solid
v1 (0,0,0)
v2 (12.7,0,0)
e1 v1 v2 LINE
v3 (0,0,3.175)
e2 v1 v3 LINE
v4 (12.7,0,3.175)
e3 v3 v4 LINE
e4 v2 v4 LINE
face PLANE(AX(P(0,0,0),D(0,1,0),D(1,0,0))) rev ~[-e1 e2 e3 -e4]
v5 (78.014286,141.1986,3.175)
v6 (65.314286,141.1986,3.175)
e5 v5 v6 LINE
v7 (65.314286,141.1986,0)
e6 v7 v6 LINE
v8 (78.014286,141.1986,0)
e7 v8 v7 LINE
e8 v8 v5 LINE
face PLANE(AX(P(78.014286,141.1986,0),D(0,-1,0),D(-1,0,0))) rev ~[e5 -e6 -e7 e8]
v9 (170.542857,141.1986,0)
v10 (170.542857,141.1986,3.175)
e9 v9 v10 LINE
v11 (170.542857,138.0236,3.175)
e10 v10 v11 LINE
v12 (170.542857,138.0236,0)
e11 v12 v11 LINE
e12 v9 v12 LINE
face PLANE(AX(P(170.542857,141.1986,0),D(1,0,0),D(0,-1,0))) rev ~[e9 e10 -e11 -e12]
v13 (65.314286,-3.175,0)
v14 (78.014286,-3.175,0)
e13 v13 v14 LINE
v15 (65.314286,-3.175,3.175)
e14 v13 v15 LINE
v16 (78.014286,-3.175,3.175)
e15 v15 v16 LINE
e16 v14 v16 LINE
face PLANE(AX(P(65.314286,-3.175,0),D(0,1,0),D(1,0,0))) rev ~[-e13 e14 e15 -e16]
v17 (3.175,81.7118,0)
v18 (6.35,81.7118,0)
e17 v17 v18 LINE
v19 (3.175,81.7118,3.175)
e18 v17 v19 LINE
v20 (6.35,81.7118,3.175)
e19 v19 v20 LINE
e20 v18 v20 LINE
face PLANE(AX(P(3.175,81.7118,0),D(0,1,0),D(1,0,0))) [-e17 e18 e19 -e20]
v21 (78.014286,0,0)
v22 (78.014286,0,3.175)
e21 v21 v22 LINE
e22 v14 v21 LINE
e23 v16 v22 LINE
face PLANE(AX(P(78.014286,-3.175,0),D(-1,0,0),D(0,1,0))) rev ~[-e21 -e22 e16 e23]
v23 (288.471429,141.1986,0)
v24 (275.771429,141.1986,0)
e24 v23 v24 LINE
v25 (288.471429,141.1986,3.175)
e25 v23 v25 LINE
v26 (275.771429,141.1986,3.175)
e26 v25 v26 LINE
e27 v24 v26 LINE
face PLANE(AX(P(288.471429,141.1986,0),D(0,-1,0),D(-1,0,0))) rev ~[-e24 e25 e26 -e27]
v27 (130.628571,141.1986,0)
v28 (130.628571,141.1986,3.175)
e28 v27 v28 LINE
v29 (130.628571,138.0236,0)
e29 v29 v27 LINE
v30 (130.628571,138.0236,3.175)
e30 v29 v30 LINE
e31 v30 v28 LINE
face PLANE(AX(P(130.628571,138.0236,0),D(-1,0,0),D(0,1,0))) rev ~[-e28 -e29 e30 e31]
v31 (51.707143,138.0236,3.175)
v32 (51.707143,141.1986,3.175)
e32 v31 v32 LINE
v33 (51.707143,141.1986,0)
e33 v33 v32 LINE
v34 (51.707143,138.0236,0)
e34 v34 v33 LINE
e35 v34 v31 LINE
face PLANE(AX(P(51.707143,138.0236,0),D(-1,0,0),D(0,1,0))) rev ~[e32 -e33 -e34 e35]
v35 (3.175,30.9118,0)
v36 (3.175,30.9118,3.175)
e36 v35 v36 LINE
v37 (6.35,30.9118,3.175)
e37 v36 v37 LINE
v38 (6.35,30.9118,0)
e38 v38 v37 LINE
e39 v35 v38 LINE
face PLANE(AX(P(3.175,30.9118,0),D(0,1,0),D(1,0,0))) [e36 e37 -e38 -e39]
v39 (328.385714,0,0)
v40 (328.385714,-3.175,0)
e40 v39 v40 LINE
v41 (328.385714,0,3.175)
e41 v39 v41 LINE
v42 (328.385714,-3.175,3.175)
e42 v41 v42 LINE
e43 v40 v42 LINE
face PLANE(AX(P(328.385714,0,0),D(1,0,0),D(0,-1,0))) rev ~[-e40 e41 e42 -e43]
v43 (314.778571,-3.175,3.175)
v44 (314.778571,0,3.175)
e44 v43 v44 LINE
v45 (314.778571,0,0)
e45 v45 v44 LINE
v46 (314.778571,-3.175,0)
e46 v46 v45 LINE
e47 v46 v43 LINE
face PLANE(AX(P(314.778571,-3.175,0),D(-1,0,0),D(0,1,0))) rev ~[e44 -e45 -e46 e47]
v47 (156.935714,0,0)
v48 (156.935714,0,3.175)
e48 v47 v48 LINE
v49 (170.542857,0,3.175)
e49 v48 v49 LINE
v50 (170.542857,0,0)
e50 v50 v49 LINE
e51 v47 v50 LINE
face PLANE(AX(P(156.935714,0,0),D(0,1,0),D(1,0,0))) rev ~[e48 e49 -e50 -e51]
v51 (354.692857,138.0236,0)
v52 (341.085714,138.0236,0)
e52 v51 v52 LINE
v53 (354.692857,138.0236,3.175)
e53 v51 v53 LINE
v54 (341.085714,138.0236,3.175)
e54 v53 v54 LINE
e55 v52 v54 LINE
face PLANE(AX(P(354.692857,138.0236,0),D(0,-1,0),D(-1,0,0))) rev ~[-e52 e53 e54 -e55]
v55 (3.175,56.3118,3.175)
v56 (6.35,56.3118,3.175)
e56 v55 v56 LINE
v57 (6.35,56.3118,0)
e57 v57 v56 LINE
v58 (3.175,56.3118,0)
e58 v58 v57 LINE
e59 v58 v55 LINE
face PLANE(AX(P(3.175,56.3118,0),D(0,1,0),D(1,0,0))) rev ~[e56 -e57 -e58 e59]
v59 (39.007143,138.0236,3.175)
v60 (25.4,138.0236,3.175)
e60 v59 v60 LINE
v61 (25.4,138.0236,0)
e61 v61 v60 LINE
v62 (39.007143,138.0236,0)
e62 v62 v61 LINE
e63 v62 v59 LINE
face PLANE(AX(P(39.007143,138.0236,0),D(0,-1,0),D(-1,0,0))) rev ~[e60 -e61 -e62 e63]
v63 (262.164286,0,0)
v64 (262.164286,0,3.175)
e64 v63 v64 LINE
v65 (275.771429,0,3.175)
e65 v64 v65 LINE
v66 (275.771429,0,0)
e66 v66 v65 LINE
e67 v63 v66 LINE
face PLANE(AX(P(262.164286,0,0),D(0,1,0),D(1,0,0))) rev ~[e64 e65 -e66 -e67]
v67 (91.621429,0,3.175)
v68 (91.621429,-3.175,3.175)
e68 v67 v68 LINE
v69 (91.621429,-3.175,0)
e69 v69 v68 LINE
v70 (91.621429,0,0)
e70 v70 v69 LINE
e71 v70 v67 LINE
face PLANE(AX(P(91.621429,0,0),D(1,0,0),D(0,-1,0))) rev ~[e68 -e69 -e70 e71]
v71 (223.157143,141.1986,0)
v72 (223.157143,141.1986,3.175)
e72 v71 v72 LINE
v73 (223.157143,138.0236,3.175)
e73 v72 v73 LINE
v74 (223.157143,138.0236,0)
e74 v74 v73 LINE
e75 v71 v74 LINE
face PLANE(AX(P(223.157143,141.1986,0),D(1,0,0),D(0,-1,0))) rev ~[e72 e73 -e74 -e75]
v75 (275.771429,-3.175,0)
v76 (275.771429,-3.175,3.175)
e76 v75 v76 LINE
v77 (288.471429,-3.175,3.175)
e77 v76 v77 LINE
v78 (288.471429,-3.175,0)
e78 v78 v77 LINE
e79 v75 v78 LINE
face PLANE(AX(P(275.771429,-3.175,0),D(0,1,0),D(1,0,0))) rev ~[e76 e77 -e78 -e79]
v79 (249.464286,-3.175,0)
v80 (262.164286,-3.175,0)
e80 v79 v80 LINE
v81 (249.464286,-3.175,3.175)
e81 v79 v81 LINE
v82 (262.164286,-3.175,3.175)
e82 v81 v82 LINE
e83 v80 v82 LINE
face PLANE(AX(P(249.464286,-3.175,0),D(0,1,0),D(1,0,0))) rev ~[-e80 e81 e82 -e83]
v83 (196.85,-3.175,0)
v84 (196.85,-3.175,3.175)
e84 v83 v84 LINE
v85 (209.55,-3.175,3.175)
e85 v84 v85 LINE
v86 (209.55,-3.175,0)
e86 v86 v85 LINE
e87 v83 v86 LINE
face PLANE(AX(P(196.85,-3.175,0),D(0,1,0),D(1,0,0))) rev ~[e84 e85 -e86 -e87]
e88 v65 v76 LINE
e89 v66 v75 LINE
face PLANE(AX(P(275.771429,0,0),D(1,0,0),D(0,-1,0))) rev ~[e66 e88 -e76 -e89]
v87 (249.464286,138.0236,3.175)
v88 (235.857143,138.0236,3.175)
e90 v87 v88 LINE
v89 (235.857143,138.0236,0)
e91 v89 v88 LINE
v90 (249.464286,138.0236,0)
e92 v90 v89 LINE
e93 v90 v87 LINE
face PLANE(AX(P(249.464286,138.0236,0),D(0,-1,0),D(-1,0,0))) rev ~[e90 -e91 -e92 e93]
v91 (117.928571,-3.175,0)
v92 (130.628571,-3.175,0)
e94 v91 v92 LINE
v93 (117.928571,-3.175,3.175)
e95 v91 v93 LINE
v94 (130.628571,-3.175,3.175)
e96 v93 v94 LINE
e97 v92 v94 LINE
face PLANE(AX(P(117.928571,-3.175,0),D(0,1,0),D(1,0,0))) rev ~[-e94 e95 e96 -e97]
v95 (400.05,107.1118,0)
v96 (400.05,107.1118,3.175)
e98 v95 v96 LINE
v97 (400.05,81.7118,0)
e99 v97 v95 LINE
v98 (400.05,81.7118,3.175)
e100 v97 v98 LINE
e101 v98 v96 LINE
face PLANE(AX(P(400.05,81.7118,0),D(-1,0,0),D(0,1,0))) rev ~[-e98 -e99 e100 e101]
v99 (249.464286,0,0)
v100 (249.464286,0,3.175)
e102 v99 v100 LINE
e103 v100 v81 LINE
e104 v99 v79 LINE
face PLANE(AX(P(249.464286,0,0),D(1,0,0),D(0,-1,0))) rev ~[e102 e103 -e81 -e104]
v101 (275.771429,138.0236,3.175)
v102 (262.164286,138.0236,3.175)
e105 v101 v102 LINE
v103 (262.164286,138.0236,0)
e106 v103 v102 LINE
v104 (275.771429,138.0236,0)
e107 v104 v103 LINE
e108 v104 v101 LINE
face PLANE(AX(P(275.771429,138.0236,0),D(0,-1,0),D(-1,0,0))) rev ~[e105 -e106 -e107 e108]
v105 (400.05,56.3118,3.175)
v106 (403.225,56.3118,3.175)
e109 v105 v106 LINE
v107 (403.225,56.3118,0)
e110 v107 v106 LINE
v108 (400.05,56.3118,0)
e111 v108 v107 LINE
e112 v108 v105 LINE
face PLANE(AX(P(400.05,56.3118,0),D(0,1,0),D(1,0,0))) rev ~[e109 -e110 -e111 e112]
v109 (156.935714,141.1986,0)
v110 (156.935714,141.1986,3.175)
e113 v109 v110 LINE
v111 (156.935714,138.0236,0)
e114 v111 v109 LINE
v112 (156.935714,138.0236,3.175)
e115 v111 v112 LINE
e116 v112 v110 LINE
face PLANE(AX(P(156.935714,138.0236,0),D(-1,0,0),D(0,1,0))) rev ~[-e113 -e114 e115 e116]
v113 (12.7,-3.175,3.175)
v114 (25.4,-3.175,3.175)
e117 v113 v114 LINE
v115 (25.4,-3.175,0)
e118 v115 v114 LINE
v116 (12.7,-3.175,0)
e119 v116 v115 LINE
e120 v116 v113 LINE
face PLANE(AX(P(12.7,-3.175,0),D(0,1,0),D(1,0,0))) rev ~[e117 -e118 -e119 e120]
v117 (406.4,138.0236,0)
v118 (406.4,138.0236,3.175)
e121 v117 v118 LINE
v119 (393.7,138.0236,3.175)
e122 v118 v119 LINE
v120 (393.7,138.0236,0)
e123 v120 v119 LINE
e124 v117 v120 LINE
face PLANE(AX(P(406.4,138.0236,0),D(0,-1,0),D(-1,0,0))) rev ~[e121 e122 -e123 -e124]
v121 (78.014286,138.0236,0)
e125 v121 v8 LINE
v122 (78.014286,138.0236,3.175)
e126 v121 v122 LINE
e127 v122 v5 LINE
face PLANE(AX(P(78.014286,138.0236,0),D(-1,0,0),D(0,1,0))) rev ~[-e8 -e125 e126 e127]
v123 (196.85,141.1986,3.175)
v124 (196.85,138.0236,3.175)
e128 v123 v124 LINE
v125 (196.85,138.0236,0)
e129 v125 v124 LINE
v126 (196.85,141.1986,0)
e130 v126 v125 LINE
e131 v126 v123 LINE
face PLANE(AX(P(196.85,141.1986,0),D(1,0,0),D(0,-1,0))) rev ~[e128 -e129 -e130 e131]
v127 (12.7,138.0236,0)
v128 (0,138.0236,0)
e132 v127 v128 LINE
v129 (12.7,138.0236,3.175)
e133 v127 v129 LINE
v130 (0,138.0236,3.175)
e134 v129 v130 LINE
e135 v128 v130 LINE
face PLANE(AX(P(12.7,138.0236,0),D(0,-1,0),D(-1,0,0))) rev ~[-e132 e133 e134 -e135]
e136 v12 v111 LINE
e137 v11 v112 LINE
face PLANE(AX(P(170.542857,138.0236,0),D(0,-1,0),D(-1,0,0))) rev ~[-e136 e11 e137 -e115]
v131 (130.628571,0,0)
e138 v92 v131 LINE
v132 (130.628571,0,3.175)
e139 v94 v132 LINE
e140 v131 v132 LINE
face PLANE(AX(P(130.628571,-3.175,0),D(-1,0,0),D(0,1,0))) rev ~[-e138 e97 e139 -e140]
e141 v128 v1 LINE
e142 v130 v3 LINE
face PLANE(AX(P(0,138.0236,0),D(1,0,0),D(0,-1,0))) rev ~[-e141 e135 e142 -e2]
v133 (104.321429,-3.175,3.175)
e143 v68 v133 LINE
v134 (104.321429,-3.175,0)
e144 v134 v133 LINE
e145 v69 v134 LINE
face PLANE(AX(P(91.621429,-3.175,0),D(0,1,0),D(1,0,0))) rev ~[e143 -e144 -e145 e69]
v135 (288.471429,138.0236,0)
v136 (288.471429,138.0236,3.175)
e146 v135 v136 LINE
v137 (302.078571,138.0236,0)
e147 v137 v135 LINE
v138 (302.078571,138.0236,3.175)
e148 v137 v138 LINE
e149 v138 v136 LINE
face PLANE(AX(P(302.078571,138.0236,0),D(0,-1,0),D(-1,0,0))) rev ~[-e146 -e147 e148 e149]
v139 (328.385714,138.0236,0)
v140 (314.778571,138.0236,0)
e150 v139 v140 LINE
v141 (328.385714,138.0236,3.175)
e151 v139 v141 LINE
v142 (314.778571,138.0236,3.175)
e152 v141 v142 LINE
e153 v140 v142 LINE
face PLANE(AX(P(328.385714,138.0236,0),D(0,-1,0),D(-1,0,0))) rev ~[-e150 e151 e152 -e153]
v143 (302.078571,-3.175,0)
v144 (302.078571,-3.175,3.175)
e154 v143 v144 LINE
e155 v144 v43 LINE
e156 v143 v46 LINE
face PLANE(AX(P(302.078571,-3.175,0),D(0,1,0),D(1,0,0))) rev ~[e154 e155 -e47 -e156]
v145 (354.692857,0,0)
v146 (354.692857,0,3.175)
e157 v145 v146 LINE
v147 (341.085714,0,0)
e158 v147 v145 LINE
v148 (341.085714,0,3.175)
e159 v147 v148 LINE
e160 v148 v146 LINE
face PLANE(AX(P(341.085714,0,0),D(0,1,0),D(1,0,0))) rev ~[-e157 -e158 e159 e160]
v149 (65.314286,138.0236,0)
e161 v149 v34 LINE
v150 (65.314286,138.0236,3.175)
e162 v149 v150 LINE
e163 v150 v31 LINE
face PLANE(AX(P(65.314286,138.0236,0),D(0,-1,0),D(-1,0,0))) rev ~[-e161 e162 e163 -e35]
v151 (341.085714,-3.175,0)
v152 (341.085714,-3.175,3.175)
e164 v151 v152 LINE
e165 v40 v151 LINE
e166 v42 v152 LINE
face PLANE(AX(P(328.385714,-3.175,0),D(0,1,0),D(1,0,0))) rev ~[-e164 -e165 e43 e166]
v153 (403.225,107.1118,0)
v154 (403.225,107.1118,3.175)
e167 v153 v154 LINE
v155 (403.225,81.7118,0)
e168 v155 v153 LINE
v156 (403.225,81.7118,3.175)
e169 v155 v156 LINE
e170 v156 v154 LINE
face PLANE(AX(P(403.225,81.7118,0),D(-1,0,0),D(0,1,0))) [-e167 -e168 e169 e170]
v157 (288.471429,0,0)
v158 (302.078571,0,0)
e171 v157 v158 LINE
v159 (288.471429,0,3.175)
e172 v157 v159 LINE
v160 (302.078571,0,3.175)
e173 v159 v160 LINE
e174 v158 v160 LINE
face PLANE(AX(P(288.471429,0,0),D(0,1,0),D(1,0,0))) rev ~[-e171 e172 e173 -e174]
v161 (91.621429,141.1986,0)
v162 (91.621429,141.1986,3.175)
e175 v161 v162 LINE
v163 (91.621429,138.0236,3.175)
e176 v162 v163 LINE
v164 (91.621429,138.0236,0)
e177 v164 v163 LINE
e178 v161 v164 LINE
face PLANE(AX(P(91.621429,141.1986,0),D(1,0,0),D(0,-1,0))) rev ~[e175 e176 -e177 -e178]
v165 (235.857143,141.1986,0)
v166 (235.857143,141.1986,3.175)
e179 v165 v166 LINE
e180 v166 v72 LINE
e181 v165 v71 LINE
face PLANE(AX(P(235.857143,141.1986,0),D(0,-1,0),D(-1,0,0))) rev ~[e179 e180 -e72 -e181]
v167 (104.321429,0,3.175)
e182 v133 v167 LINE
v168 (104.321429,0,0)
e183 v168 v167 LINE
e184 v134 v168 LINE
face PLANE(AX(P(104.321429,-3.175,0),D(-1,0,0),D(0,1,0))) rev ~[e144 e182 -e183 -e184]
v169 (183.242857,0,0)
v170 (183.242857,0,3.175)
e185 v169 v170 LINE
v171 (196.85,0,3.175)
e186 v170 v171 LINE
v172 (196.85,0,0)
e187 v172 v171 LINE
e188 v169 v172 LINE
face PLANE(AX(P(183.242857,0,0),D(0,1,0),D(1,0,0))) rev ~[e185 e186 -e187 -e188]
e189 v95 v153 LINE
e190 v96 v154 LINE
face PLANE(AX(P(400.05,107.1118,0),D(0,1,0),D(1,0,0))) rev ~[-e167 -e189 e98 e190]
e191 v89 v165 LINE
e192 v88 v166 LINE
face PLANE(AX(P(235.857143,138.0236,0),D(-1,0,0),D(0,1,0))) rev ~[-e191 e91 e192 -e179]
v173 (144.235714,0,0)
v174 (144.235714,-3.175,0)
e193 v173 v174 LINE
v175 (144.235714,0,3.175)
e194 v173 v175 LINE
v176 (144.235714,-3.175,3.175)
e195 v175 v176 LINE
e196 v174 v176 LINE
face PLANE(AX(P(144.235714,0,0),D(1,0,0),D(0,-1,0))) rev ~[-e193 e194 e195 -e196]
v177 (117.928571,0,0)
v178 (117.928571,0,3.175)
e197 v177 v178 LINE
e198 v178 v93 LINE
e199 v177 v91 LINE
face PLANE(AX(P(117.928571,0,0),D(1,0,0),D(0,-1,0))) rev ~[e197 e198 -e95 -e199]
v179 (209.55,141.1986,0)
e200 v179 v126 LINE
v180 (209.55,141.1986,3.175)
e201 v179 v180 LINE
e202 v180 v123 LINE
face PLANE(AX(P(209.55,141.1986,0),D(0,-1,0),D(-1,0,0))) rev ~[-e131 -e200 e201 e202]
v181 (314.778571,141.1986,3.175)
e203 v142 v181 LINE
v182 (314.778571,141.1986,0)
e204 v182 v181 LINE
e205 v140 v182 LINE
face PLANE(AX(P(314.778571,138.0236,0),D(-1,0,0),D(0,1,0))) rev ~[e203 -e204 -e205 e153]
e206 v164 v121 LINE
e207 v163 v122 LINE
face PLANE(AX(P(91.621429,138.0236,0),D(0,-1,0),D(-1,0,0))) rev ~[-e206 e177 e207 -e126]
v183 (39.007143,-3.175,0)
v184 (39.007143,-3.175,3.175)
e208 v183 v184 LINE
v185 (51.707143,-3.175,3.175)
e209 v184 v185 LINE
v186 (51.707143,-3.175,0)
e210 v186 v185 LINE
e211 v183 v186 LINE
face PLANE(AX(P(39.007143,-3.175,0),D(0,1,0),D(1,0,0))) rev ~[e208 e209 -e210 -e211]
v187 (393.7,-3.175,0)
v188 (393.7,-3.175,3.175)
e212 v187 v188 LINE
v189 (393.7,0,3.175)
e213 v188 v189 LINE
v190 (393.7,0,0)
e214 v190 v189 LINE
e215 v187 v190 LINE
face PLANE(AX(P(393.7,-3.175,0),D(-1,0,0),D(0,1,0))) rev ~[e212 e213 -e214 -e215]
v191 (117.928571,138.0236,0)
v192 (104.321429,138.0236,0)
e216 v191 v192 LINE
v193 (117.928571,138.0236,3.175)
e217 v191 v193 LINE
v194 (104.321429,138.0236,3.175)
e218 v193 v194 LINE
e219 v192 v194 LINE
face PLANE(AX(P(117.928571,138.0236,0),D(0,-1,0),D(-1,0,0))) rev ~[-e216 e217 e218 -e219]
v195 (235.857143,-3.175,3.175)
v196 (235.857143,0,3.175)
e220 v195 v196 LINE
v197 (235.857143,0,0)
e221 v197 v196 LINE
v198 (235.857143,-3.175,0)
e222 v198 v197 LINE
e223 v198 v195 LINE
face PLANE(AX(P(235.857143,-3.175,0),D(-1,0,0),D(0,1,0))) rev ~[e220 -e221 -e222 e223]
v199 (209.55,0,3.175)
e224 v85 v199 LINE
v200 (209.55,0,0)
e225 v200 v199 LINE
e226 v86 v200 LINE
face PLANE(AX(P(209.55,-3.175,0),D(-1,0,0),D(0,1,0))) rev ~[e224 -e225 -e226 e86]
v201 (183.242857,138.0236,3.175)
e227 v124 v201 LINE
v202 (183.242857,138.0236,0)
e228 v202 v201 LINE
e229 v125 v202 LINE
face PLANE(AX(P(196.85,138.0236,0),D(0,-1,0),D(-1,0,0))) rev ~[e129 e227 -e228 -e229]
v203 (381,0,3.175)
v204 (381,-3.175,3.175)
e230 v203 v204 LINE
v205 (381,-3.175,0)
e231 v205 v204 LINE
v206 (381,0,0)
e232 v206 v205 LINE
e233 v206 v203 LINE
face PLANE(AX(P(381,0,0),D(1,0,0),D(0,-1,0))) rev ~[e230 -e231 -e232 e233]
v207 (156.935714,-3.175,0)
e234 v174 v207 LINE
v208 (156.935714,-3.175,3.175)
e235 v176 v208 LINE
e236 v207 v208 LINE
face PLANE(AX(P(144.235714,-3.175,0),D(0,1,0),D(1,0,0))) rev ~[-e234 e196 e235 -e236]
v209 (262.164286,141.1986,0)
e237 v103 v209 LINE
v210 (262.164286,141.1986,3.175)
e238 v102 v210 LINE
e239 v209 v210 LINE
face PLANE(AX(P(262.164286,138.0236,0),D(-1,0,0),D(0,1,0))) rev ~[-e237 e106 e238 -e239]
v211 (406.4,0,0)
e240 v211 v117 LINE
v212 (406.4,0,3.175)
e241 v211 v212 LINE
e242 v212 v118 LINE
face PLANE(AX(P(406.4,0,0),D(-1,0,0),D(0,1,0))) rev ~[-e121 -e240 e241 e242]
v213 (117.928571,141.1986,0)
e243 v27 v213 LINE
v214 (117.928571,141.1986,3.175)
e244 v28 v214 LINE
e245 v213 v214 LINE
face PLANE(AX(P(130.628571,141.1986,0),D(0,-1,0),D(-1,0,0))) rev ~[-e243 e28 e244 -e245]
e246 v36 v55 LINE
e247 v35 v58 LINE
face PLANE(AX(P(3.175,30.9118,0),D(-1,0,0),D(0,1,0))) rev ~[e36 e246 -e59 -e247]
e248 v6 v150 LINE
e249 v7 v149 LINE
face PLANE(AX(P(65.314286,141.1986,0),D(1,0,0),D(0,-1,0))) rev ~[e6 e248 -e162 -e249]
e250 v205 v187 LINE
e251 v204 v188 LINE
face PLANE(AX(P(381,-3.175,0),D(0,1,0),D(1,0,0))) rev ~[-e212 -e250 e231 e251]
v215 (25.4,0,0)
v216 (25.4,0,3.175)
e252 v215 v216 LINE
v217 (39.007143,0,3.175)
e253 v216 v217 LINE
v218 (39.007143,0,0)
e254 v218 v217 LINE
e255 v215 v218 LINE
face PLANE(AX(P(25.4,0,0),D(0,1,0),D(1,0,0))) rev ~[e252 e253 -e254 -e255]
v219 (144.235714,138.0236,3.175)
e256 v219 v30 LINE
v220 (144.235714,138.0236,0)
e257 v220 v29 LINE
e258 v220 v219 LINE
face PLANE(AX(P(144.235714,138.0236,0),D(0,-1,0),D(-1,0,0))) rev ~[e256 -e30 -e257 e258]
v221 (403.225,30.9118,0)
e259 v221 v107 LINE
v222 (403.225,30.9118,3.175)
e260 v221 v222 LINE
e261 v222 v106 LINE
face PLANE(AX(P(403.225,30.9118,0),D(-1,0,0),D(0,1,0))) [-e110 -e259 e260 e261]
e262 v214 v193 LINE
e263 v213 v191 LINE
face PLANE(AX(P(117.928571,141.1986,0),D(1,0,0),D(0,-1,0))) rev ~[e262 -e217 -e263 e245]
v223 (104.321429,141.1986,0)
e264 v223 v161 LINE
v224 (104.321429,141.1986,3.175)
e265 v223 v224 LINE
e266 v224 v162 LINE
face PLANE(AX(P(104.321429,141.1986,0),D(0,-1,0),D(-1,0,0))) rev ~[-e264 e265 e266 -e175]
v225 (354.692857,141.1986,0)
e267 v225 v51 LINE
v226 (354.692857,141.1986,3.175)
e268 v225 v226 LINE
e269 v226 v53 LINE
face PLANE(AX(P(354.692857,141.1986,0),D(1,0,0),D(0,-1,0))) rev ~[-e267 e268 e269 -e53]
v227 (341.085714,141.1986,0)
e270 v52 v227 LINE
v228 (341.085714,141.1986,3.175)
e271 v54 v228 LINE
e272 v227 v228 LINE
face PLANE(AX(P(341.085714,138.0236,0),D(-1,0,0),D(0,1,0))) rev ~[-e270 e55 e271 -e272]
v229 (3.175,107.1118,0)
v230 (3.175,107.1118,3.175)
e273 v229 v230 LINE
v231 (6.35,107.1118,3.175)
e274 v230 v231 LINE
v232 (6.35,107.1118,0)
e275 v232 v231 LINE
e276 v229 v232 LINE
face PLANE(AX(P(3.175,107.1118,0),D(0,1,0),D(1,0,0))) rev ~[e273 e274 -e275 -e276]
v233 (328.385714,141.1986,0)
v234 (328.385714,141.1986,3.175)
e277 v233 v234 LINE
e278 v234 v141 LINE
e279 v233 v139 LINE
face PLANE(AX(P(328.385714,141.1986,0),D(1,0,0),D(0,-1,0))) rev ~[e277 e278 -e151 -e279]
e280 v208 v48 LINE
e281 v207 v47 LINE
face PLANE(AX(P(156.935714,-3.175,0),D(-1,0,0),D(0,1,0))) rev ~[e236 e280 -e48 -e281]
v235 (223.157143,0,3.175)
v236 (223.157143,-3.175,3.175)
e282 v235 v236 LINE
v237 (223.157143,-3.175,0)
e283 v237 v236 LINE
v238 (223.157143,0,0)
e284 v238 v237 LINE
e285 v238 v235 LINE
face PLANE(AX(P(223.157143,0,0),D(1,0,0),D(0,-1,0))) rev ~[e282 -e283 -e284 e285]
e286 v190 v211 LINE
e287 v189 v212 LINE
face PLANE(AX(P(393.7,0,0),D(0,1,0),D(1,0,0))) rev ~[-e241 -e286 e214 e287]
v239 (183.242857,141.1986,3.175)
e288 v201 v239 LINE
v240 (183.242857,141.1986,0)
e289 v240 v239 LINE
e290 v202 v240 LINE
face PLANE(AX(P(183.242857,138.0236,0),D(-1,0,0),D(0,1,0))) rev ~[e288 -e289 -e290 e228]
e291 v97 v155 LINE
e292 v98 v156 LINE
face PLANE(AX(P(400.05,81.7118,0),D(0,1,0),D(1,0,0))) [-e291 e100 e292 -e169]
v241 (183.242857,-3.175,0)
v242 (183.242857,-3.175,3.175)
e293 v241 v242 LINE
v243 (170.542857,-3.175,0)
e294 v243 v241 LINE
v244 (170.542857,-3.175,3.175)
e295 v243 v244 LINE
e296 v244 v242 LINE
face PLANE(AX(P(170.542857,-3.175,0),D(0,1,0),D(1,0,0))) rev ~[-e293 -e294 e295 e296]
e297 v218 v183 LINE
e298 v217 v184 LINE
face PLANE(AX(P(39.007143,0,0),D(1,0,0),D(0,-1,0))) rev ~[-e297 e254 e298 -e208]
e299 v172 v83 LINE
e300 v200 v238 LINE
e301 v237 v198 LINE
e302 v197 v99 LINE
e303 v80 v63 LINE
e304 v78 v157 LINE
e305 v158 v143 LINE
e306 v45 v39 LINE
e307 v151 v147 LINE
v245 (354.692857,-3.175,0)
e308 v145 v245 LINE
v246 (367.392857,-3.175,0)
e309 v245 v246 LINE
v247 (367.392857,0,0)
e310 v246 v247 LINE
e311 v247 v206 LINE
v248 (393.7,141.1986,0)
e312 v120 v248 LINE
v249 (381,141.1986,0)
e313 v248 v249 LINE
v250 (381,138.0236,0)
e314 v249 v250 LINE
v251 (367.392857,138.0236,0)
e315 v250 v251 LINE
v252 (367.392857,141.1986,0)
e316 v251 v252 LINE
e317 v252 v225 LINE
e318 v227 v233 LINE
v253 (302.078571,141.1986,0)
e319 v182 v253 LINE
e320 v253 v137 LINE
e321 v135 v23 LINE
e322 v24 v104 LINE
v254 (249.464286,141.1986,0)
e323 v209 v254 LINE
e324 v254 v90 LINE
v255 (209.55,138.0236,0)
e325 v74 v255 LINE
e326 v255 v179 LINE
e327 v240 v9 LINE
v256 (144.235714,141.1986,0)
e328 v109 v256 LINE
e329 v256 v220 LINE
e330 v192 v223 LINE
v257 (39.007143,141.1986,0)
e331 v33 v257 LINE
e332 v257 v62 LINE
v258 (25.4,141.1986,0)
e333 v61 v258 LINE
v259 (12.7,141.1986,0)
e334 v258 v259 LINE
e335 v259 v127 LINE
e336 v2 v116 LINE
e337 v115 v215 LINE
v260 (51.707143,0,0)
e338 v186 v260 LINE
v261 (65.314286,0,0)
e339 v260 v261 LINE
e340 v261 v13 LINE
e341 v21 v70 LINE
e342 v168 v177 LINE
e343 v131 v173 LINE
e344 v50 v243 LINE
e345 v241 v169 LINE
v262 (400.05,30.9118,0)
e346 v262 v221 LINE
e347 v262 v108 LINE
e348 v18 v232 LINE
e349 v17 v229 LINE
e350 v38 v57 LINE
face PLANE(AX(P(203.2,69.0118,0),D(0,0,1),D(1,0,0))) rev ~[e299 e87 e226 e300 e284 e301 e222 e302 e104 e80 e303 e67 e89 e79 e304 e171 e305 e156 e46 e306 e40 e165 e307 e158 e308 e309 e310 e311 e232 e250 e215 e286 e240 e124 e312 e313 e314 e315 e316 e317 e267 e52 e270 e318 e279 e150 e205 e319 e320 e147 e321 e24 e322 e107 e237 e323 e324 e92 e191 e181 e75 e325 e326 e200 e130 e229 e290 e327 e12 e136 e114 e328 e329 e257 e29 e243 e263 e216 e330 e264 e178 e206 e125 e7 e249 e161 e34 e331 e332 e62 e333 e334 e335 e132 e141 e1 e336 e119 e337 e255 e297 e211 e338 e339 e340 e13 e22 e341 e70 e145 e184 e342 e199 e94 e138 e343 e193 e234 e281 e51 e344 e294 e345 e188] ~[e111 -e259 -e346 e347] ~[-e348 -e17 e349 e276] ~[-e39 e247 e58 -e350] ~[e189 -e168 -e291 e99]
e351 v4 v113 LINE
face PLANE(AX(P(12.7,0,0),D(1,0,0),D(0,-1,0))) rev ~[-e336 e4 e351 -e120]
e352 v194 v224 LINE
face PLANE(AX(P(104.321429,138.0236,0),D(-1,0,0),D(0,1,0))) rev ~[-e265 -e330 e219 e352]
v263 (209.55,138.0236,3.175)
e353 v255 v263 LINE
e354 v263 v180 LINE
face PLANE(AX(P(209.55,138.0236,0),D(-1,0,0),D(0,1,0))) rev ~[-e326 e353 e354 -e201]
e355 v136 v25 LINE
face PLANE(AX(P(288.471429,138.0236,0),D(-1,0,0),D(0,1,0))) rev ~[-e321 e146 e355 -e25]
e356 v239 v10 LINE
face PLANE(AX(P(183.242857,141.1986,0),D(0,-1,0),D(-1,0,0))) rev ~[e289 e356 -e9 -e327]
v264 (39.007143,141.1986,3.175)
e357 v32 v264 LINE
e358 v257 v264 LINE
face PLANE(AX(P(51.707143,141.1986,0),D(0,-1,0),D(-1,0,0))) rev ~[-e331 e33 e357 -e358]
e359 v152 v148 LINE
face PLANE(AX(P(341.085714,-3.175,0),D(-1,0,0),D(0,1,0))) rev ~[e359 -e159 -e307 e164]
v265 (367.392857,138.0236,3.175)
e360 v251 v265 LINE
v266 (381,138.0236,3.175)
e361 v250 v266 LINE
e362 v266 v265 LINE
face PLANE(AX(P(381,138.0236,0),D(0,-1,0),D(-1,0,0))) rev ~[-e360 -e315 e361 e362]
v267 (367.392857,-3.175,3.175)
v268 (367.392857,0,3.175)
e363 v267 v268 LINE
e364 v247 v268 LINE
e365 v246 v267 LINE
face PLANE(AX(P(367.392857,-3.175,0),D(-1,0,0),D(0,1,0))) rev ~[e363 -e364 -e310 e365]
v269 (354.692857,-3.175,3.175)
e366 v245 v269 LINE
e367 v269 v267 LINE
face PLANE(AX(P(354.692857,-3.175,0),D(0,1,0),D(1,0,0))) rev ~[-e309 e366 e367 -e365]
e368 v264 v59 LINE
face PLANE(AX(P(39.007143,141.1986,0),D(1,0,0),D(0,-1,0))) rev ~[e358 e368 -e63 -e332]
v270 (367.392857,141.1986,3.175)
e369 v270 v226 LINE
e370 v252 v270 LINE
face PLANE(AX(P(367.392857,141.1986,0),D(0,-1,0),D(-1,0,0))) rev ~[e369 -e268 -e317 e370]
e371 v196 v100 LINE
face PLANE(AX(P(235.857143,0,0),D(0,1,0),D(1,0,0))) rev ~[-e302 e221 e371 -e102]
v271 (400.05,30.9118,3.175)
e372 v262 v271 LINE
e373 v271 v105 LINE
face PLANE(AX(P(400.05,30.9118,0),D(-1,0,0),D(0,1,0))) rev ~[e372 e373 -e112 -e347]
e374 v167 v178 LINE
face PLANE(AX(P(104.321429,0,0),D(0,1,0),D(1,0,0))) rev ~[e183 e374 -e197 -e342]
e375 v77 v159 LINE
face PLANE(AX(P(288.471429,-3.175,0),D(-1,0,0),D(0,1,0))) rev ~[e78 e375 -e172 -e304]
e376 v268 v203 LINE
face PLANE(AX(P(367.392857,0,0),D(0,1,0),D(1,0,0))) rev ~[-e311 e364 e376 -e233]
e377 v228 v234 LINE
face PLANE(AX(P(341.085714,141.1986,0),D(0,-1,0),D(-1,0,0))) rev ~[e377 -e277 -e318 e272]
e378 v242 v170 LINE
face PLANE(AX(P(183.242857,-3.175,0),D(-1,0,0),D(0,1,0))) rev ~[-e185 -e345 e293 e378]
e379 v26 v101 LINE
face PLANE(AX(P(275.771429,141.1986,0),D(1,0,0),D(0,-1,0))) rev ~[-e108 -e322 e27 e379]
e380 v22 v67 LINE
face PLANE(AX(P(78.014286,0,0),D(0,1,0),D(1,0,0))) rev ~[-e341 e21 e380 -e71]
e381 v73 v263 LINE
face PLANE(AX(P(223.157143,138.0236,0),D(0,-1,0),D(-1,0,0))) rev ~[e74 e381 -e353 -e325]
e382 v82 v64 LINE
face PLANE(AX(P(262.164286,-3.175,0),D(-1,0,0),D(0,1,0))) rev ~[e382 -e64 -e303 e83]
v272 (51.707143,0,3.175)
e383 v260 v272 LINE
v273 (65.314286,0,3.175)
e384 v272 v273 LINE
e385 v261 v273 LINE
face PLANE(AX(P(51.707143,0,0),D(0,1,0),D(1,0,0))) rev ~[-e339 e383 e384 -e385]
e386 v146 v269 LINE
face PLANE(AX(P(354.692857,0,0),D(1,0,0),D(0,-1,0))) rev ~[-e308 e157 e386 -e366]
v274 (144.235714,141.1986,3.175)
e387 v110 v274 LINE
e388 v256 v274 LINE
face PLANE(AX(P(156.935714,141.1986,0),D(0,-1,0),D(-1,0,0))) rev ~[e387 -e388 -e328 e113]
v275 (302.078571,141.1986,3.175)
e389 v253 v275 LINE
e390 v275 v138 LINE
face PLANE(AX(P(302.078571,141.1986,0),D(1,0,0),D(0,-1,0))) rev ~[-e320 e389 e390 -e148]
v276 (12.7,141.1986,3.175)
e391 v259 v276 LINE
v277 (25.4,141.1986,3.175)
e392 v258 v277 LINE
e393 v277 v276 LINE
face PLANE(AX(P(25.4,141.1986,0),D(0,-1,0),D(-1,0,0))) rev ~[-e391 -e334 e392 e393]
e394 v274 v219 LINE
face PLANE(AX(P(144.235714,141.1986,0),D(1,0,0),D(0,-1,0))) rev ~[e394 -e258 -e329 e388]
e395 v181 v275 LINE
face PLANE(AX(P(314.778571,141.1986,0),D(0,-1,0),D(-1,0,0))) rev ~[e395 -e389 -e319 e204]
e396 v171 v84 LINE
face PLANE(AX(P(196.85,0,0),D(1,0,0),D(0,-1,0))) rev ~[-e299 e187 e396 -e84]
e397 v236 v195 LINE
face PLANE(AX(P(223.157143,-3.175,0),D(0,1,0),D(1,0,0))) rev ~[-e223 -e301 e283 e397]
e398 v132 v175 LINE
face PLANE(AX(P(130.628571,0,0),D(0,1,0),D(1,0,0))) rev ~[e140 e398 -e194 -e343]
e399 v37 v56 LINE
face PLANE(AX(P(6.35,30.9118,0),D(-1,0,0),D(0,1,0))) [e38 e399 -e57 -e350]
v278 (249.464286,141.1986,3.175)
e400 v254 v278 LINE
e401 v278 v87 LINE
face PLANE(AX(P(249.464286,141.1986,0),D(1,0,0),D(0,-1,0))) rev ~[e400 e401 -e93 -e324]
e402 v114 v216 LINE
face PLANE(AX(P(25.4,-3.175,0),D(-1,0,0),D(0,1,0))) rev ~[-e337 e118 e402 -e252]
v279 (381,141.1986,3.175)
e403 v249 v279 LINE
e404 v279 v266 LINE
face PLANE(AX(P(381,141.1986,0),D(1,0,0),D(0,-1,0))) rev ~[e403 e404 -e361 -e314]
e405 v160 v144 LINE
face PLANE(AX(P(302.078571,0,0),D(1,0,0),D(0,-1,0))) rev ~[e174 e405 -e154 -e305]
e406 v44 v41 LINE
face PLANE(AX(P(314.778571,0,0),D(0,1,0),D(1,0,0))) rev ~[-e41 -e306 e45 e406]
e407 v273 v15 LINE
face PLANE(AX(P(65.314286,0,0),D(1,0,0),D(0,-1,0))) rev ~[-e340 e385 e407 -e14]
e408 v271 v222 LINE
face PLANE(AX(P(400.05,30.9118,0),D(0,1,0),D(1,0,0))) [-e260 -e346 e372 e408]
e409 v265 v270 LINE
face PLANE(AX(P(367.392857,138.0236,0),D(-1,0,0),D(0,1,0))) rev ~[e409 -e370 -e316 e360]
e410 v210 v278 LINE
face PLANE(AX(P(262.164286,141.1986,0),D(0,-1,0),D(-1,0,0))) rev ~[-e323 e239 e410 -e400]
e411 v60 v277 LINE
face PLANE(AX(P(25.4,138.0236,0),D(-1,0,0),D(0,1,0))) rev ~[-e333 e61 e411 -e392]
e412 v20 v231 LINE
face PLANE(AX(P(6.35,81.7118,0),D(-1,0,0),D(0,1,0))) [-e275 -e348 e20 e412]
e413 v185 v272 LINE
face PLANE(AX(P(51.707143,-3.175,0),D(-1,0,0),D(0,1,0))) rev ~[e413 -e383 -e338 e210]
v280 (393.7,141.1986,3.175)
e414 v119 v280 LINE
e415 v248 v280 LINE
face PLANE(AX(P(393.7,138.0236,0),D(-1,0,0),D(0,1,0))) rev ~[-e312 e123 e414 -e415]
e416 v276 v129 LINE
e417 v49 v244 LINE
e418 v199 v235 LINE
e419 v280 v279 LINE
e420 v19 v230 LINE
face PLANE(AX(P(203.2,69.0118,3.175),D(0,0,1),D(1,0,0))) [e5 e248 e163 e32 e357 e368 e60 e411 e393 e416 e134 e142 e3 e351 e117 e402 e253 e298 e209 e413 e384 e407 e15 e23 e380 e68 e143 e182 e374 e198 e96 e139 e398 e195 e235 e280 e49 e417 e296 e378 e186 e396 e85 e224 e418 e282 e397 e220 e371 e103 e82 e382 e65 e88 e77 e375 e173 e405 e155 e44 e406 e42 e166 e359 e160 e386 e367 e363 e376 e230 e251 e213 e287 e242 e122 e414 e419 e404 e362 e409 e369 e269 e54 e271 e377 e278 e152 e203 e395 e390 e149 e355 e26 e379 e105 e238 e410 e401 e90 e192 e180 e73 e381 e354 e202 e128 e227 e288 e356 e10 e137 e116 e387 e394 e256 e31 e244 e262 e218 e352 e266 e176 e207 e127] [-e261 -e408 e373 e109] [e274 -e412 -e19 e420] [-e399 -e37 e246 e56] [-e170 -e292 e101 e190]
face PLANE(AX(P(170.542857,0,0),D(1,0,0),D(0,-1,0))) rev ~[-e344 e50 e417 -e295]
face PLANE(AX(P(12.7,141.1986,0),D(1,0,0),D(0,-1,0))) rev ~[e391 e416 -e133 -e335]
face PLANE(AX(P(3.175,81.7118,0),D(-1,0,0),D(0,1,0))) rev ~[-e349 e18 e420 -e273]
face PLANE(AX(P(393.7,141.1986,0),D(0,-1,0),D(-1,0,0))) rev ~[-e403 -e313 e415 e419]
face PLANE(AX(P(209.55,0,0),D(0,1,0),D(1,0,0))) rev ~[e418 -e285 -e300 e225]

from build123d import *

# Parameters (mm, degrees)
SKETCH1_W           = 3.175
SKETCH1_H           = 25.4
BOSS_EXTRUDE1_DEPTH = 3.175


with BuildPart() as part:
    # Sketch1 → Boss-Extrude1 (new body)
    with BuildSketch(Plane.XY):
        Polygon((406.4, 0), (406.4, 138.0236), (393.7, 138.0236), (393.7, 141.1986), (381, 141.1986), (381, 138.0236), (367.392857143, 138.0236), (367.392857143, 141.1986), (354.692857143, 141.1986), (354.692857143, 138.0236), (341.085714286, 138.0236), (341.085714286, 141.1986), (328.385714286, 141.1986), (328.385714286, 138.0236), (314.778571429, 138.0236), (314.778571429, 141.1986), (302.078571429, 141.1986), (302.078571429, 138.0236), (288.471428571, 138.0236), (288.471428571, 141.1986), (275.771428571, 141.1986), (275.771428571, 138.0236), (262.164285714, 138.0236), (262.164285714, 141.1986), (249.464285714, 141.1986), (249.464285714, 138.0236), (235.857142857, 138.0236), (235.857142857, 141.1986), (223.157142857, 141.1986), (223.157142857, 138.0236), (209.55, 138.0236), (209.55, 141.1986), (196.85, 141.1986), (196.85, 138.0236), (183.242857143, 138.0236), (183.242857143, 141.1986), (170.542857143, 141.1986), (170.542857143, 138.0236), (156.935714286, 138.0236), (156.935714286, 141.1986), (144.235714286, 141.1986), (144.235714286, 138.0236), (130.628571429, 138.0236), (130.628571429, 141.1986), (117.928571429, 141.1986), (117.928571429, 138.0236), (104.321428571, 138.0236), (104.321428571, 141.1986), (91.621428571, 141.1986), (91.621428571, 138.0236), (78.014285714, 138.0236), (78.014285714, 141.1986), (65.314285714, 141.1986), (65.314285714, 138.0236), (51.707142857, 138.0236), (51.707142857, 141.1986), (39.007142857, 141.1986), (39.007142857, 138.0236), (25.4, 138.0236), (25.4, 141.1986), (12.7, 141.1986), (12.7, 138.0236), (0, 138.0236), (0, 0), (12.7, 0), (12.7, -3.175), (25.4, -3.175), (25.4, 0), (39.007142857, 0), (39.007142857, -3.175), (51.707142857, -3.175), (51.707142857, 0), (65.314285714, 0), (65.314285714, -3.175), (78.014285714, -3.175), (78.014285714, 0), (91.621428571, 0), (91.621428571, -3.175), (104.321428571, -3.175), (104.321428571, 0), (117.928571429, 0), (117.928571429, -3.175), (130.628571429, -3.175), (130.628571429, 0), (144.235714286, 0), (144.235714286, -3.175), (156.935714286, -3.175), (156.935714286, 0), (170.542857143, 0), (170.542857143, -3.175), (183.242857143, -3.175), (183.242857143, 0), (196.85, 0), (196.85, -3.175), (209.55, -3.175), (209.55, 0), (223.157142857, 0), (223.157142857, -3.175), (235.857142857, -3.175), (235.857142857, 0), (249.464285714, 0), (249.464285714, -3.175), (262.164285714, -3.175), (262.164285714, 0), (275.771428571, 0), (275.771428571, -3.175), (288.471428571, -3.175), (288.471428571, 0), (302.078571429, 0), (302.078571429, -3.175), (314.778571429, -3.175), (314.778571429, 0), (328.385714286, 0), (328.385714286, -3.175), (341.085714286, -3.175), (341.085714286, 0), (354.692857143, 0), (354.692857143, -3.175), (367.392857143, -3.175), (367.392857143, 0), (381, 0), (381, -3.175), (393.7, -3.175), (393.7, 0), align=None)
        with Locations((4.7625, 94.4118)):
            Rectangle(SKETCH1_W, SKETCH1_H, mode=Mode.SUBTRACT)
        with Locations((4.7625, 43.6118)):
            Rectangle(SKETCH1_W, SKETCH1_H, mode=Mode.SUBTRACT)
        with Locations((401.6375, 43.6118)):
            Rectangle(SKETCH1_W, SKETCH1_H, mode=Mode.SUBTRACT)
        with Locations((401.6375, 94.4118)):
            Rectangle(SKETCH1_W, SKETCH1_H, mode=Mode.SUBTRACT)
    extrude(amount=BOSS_EXTRUDE1_DEPTH)


solid = part.part
